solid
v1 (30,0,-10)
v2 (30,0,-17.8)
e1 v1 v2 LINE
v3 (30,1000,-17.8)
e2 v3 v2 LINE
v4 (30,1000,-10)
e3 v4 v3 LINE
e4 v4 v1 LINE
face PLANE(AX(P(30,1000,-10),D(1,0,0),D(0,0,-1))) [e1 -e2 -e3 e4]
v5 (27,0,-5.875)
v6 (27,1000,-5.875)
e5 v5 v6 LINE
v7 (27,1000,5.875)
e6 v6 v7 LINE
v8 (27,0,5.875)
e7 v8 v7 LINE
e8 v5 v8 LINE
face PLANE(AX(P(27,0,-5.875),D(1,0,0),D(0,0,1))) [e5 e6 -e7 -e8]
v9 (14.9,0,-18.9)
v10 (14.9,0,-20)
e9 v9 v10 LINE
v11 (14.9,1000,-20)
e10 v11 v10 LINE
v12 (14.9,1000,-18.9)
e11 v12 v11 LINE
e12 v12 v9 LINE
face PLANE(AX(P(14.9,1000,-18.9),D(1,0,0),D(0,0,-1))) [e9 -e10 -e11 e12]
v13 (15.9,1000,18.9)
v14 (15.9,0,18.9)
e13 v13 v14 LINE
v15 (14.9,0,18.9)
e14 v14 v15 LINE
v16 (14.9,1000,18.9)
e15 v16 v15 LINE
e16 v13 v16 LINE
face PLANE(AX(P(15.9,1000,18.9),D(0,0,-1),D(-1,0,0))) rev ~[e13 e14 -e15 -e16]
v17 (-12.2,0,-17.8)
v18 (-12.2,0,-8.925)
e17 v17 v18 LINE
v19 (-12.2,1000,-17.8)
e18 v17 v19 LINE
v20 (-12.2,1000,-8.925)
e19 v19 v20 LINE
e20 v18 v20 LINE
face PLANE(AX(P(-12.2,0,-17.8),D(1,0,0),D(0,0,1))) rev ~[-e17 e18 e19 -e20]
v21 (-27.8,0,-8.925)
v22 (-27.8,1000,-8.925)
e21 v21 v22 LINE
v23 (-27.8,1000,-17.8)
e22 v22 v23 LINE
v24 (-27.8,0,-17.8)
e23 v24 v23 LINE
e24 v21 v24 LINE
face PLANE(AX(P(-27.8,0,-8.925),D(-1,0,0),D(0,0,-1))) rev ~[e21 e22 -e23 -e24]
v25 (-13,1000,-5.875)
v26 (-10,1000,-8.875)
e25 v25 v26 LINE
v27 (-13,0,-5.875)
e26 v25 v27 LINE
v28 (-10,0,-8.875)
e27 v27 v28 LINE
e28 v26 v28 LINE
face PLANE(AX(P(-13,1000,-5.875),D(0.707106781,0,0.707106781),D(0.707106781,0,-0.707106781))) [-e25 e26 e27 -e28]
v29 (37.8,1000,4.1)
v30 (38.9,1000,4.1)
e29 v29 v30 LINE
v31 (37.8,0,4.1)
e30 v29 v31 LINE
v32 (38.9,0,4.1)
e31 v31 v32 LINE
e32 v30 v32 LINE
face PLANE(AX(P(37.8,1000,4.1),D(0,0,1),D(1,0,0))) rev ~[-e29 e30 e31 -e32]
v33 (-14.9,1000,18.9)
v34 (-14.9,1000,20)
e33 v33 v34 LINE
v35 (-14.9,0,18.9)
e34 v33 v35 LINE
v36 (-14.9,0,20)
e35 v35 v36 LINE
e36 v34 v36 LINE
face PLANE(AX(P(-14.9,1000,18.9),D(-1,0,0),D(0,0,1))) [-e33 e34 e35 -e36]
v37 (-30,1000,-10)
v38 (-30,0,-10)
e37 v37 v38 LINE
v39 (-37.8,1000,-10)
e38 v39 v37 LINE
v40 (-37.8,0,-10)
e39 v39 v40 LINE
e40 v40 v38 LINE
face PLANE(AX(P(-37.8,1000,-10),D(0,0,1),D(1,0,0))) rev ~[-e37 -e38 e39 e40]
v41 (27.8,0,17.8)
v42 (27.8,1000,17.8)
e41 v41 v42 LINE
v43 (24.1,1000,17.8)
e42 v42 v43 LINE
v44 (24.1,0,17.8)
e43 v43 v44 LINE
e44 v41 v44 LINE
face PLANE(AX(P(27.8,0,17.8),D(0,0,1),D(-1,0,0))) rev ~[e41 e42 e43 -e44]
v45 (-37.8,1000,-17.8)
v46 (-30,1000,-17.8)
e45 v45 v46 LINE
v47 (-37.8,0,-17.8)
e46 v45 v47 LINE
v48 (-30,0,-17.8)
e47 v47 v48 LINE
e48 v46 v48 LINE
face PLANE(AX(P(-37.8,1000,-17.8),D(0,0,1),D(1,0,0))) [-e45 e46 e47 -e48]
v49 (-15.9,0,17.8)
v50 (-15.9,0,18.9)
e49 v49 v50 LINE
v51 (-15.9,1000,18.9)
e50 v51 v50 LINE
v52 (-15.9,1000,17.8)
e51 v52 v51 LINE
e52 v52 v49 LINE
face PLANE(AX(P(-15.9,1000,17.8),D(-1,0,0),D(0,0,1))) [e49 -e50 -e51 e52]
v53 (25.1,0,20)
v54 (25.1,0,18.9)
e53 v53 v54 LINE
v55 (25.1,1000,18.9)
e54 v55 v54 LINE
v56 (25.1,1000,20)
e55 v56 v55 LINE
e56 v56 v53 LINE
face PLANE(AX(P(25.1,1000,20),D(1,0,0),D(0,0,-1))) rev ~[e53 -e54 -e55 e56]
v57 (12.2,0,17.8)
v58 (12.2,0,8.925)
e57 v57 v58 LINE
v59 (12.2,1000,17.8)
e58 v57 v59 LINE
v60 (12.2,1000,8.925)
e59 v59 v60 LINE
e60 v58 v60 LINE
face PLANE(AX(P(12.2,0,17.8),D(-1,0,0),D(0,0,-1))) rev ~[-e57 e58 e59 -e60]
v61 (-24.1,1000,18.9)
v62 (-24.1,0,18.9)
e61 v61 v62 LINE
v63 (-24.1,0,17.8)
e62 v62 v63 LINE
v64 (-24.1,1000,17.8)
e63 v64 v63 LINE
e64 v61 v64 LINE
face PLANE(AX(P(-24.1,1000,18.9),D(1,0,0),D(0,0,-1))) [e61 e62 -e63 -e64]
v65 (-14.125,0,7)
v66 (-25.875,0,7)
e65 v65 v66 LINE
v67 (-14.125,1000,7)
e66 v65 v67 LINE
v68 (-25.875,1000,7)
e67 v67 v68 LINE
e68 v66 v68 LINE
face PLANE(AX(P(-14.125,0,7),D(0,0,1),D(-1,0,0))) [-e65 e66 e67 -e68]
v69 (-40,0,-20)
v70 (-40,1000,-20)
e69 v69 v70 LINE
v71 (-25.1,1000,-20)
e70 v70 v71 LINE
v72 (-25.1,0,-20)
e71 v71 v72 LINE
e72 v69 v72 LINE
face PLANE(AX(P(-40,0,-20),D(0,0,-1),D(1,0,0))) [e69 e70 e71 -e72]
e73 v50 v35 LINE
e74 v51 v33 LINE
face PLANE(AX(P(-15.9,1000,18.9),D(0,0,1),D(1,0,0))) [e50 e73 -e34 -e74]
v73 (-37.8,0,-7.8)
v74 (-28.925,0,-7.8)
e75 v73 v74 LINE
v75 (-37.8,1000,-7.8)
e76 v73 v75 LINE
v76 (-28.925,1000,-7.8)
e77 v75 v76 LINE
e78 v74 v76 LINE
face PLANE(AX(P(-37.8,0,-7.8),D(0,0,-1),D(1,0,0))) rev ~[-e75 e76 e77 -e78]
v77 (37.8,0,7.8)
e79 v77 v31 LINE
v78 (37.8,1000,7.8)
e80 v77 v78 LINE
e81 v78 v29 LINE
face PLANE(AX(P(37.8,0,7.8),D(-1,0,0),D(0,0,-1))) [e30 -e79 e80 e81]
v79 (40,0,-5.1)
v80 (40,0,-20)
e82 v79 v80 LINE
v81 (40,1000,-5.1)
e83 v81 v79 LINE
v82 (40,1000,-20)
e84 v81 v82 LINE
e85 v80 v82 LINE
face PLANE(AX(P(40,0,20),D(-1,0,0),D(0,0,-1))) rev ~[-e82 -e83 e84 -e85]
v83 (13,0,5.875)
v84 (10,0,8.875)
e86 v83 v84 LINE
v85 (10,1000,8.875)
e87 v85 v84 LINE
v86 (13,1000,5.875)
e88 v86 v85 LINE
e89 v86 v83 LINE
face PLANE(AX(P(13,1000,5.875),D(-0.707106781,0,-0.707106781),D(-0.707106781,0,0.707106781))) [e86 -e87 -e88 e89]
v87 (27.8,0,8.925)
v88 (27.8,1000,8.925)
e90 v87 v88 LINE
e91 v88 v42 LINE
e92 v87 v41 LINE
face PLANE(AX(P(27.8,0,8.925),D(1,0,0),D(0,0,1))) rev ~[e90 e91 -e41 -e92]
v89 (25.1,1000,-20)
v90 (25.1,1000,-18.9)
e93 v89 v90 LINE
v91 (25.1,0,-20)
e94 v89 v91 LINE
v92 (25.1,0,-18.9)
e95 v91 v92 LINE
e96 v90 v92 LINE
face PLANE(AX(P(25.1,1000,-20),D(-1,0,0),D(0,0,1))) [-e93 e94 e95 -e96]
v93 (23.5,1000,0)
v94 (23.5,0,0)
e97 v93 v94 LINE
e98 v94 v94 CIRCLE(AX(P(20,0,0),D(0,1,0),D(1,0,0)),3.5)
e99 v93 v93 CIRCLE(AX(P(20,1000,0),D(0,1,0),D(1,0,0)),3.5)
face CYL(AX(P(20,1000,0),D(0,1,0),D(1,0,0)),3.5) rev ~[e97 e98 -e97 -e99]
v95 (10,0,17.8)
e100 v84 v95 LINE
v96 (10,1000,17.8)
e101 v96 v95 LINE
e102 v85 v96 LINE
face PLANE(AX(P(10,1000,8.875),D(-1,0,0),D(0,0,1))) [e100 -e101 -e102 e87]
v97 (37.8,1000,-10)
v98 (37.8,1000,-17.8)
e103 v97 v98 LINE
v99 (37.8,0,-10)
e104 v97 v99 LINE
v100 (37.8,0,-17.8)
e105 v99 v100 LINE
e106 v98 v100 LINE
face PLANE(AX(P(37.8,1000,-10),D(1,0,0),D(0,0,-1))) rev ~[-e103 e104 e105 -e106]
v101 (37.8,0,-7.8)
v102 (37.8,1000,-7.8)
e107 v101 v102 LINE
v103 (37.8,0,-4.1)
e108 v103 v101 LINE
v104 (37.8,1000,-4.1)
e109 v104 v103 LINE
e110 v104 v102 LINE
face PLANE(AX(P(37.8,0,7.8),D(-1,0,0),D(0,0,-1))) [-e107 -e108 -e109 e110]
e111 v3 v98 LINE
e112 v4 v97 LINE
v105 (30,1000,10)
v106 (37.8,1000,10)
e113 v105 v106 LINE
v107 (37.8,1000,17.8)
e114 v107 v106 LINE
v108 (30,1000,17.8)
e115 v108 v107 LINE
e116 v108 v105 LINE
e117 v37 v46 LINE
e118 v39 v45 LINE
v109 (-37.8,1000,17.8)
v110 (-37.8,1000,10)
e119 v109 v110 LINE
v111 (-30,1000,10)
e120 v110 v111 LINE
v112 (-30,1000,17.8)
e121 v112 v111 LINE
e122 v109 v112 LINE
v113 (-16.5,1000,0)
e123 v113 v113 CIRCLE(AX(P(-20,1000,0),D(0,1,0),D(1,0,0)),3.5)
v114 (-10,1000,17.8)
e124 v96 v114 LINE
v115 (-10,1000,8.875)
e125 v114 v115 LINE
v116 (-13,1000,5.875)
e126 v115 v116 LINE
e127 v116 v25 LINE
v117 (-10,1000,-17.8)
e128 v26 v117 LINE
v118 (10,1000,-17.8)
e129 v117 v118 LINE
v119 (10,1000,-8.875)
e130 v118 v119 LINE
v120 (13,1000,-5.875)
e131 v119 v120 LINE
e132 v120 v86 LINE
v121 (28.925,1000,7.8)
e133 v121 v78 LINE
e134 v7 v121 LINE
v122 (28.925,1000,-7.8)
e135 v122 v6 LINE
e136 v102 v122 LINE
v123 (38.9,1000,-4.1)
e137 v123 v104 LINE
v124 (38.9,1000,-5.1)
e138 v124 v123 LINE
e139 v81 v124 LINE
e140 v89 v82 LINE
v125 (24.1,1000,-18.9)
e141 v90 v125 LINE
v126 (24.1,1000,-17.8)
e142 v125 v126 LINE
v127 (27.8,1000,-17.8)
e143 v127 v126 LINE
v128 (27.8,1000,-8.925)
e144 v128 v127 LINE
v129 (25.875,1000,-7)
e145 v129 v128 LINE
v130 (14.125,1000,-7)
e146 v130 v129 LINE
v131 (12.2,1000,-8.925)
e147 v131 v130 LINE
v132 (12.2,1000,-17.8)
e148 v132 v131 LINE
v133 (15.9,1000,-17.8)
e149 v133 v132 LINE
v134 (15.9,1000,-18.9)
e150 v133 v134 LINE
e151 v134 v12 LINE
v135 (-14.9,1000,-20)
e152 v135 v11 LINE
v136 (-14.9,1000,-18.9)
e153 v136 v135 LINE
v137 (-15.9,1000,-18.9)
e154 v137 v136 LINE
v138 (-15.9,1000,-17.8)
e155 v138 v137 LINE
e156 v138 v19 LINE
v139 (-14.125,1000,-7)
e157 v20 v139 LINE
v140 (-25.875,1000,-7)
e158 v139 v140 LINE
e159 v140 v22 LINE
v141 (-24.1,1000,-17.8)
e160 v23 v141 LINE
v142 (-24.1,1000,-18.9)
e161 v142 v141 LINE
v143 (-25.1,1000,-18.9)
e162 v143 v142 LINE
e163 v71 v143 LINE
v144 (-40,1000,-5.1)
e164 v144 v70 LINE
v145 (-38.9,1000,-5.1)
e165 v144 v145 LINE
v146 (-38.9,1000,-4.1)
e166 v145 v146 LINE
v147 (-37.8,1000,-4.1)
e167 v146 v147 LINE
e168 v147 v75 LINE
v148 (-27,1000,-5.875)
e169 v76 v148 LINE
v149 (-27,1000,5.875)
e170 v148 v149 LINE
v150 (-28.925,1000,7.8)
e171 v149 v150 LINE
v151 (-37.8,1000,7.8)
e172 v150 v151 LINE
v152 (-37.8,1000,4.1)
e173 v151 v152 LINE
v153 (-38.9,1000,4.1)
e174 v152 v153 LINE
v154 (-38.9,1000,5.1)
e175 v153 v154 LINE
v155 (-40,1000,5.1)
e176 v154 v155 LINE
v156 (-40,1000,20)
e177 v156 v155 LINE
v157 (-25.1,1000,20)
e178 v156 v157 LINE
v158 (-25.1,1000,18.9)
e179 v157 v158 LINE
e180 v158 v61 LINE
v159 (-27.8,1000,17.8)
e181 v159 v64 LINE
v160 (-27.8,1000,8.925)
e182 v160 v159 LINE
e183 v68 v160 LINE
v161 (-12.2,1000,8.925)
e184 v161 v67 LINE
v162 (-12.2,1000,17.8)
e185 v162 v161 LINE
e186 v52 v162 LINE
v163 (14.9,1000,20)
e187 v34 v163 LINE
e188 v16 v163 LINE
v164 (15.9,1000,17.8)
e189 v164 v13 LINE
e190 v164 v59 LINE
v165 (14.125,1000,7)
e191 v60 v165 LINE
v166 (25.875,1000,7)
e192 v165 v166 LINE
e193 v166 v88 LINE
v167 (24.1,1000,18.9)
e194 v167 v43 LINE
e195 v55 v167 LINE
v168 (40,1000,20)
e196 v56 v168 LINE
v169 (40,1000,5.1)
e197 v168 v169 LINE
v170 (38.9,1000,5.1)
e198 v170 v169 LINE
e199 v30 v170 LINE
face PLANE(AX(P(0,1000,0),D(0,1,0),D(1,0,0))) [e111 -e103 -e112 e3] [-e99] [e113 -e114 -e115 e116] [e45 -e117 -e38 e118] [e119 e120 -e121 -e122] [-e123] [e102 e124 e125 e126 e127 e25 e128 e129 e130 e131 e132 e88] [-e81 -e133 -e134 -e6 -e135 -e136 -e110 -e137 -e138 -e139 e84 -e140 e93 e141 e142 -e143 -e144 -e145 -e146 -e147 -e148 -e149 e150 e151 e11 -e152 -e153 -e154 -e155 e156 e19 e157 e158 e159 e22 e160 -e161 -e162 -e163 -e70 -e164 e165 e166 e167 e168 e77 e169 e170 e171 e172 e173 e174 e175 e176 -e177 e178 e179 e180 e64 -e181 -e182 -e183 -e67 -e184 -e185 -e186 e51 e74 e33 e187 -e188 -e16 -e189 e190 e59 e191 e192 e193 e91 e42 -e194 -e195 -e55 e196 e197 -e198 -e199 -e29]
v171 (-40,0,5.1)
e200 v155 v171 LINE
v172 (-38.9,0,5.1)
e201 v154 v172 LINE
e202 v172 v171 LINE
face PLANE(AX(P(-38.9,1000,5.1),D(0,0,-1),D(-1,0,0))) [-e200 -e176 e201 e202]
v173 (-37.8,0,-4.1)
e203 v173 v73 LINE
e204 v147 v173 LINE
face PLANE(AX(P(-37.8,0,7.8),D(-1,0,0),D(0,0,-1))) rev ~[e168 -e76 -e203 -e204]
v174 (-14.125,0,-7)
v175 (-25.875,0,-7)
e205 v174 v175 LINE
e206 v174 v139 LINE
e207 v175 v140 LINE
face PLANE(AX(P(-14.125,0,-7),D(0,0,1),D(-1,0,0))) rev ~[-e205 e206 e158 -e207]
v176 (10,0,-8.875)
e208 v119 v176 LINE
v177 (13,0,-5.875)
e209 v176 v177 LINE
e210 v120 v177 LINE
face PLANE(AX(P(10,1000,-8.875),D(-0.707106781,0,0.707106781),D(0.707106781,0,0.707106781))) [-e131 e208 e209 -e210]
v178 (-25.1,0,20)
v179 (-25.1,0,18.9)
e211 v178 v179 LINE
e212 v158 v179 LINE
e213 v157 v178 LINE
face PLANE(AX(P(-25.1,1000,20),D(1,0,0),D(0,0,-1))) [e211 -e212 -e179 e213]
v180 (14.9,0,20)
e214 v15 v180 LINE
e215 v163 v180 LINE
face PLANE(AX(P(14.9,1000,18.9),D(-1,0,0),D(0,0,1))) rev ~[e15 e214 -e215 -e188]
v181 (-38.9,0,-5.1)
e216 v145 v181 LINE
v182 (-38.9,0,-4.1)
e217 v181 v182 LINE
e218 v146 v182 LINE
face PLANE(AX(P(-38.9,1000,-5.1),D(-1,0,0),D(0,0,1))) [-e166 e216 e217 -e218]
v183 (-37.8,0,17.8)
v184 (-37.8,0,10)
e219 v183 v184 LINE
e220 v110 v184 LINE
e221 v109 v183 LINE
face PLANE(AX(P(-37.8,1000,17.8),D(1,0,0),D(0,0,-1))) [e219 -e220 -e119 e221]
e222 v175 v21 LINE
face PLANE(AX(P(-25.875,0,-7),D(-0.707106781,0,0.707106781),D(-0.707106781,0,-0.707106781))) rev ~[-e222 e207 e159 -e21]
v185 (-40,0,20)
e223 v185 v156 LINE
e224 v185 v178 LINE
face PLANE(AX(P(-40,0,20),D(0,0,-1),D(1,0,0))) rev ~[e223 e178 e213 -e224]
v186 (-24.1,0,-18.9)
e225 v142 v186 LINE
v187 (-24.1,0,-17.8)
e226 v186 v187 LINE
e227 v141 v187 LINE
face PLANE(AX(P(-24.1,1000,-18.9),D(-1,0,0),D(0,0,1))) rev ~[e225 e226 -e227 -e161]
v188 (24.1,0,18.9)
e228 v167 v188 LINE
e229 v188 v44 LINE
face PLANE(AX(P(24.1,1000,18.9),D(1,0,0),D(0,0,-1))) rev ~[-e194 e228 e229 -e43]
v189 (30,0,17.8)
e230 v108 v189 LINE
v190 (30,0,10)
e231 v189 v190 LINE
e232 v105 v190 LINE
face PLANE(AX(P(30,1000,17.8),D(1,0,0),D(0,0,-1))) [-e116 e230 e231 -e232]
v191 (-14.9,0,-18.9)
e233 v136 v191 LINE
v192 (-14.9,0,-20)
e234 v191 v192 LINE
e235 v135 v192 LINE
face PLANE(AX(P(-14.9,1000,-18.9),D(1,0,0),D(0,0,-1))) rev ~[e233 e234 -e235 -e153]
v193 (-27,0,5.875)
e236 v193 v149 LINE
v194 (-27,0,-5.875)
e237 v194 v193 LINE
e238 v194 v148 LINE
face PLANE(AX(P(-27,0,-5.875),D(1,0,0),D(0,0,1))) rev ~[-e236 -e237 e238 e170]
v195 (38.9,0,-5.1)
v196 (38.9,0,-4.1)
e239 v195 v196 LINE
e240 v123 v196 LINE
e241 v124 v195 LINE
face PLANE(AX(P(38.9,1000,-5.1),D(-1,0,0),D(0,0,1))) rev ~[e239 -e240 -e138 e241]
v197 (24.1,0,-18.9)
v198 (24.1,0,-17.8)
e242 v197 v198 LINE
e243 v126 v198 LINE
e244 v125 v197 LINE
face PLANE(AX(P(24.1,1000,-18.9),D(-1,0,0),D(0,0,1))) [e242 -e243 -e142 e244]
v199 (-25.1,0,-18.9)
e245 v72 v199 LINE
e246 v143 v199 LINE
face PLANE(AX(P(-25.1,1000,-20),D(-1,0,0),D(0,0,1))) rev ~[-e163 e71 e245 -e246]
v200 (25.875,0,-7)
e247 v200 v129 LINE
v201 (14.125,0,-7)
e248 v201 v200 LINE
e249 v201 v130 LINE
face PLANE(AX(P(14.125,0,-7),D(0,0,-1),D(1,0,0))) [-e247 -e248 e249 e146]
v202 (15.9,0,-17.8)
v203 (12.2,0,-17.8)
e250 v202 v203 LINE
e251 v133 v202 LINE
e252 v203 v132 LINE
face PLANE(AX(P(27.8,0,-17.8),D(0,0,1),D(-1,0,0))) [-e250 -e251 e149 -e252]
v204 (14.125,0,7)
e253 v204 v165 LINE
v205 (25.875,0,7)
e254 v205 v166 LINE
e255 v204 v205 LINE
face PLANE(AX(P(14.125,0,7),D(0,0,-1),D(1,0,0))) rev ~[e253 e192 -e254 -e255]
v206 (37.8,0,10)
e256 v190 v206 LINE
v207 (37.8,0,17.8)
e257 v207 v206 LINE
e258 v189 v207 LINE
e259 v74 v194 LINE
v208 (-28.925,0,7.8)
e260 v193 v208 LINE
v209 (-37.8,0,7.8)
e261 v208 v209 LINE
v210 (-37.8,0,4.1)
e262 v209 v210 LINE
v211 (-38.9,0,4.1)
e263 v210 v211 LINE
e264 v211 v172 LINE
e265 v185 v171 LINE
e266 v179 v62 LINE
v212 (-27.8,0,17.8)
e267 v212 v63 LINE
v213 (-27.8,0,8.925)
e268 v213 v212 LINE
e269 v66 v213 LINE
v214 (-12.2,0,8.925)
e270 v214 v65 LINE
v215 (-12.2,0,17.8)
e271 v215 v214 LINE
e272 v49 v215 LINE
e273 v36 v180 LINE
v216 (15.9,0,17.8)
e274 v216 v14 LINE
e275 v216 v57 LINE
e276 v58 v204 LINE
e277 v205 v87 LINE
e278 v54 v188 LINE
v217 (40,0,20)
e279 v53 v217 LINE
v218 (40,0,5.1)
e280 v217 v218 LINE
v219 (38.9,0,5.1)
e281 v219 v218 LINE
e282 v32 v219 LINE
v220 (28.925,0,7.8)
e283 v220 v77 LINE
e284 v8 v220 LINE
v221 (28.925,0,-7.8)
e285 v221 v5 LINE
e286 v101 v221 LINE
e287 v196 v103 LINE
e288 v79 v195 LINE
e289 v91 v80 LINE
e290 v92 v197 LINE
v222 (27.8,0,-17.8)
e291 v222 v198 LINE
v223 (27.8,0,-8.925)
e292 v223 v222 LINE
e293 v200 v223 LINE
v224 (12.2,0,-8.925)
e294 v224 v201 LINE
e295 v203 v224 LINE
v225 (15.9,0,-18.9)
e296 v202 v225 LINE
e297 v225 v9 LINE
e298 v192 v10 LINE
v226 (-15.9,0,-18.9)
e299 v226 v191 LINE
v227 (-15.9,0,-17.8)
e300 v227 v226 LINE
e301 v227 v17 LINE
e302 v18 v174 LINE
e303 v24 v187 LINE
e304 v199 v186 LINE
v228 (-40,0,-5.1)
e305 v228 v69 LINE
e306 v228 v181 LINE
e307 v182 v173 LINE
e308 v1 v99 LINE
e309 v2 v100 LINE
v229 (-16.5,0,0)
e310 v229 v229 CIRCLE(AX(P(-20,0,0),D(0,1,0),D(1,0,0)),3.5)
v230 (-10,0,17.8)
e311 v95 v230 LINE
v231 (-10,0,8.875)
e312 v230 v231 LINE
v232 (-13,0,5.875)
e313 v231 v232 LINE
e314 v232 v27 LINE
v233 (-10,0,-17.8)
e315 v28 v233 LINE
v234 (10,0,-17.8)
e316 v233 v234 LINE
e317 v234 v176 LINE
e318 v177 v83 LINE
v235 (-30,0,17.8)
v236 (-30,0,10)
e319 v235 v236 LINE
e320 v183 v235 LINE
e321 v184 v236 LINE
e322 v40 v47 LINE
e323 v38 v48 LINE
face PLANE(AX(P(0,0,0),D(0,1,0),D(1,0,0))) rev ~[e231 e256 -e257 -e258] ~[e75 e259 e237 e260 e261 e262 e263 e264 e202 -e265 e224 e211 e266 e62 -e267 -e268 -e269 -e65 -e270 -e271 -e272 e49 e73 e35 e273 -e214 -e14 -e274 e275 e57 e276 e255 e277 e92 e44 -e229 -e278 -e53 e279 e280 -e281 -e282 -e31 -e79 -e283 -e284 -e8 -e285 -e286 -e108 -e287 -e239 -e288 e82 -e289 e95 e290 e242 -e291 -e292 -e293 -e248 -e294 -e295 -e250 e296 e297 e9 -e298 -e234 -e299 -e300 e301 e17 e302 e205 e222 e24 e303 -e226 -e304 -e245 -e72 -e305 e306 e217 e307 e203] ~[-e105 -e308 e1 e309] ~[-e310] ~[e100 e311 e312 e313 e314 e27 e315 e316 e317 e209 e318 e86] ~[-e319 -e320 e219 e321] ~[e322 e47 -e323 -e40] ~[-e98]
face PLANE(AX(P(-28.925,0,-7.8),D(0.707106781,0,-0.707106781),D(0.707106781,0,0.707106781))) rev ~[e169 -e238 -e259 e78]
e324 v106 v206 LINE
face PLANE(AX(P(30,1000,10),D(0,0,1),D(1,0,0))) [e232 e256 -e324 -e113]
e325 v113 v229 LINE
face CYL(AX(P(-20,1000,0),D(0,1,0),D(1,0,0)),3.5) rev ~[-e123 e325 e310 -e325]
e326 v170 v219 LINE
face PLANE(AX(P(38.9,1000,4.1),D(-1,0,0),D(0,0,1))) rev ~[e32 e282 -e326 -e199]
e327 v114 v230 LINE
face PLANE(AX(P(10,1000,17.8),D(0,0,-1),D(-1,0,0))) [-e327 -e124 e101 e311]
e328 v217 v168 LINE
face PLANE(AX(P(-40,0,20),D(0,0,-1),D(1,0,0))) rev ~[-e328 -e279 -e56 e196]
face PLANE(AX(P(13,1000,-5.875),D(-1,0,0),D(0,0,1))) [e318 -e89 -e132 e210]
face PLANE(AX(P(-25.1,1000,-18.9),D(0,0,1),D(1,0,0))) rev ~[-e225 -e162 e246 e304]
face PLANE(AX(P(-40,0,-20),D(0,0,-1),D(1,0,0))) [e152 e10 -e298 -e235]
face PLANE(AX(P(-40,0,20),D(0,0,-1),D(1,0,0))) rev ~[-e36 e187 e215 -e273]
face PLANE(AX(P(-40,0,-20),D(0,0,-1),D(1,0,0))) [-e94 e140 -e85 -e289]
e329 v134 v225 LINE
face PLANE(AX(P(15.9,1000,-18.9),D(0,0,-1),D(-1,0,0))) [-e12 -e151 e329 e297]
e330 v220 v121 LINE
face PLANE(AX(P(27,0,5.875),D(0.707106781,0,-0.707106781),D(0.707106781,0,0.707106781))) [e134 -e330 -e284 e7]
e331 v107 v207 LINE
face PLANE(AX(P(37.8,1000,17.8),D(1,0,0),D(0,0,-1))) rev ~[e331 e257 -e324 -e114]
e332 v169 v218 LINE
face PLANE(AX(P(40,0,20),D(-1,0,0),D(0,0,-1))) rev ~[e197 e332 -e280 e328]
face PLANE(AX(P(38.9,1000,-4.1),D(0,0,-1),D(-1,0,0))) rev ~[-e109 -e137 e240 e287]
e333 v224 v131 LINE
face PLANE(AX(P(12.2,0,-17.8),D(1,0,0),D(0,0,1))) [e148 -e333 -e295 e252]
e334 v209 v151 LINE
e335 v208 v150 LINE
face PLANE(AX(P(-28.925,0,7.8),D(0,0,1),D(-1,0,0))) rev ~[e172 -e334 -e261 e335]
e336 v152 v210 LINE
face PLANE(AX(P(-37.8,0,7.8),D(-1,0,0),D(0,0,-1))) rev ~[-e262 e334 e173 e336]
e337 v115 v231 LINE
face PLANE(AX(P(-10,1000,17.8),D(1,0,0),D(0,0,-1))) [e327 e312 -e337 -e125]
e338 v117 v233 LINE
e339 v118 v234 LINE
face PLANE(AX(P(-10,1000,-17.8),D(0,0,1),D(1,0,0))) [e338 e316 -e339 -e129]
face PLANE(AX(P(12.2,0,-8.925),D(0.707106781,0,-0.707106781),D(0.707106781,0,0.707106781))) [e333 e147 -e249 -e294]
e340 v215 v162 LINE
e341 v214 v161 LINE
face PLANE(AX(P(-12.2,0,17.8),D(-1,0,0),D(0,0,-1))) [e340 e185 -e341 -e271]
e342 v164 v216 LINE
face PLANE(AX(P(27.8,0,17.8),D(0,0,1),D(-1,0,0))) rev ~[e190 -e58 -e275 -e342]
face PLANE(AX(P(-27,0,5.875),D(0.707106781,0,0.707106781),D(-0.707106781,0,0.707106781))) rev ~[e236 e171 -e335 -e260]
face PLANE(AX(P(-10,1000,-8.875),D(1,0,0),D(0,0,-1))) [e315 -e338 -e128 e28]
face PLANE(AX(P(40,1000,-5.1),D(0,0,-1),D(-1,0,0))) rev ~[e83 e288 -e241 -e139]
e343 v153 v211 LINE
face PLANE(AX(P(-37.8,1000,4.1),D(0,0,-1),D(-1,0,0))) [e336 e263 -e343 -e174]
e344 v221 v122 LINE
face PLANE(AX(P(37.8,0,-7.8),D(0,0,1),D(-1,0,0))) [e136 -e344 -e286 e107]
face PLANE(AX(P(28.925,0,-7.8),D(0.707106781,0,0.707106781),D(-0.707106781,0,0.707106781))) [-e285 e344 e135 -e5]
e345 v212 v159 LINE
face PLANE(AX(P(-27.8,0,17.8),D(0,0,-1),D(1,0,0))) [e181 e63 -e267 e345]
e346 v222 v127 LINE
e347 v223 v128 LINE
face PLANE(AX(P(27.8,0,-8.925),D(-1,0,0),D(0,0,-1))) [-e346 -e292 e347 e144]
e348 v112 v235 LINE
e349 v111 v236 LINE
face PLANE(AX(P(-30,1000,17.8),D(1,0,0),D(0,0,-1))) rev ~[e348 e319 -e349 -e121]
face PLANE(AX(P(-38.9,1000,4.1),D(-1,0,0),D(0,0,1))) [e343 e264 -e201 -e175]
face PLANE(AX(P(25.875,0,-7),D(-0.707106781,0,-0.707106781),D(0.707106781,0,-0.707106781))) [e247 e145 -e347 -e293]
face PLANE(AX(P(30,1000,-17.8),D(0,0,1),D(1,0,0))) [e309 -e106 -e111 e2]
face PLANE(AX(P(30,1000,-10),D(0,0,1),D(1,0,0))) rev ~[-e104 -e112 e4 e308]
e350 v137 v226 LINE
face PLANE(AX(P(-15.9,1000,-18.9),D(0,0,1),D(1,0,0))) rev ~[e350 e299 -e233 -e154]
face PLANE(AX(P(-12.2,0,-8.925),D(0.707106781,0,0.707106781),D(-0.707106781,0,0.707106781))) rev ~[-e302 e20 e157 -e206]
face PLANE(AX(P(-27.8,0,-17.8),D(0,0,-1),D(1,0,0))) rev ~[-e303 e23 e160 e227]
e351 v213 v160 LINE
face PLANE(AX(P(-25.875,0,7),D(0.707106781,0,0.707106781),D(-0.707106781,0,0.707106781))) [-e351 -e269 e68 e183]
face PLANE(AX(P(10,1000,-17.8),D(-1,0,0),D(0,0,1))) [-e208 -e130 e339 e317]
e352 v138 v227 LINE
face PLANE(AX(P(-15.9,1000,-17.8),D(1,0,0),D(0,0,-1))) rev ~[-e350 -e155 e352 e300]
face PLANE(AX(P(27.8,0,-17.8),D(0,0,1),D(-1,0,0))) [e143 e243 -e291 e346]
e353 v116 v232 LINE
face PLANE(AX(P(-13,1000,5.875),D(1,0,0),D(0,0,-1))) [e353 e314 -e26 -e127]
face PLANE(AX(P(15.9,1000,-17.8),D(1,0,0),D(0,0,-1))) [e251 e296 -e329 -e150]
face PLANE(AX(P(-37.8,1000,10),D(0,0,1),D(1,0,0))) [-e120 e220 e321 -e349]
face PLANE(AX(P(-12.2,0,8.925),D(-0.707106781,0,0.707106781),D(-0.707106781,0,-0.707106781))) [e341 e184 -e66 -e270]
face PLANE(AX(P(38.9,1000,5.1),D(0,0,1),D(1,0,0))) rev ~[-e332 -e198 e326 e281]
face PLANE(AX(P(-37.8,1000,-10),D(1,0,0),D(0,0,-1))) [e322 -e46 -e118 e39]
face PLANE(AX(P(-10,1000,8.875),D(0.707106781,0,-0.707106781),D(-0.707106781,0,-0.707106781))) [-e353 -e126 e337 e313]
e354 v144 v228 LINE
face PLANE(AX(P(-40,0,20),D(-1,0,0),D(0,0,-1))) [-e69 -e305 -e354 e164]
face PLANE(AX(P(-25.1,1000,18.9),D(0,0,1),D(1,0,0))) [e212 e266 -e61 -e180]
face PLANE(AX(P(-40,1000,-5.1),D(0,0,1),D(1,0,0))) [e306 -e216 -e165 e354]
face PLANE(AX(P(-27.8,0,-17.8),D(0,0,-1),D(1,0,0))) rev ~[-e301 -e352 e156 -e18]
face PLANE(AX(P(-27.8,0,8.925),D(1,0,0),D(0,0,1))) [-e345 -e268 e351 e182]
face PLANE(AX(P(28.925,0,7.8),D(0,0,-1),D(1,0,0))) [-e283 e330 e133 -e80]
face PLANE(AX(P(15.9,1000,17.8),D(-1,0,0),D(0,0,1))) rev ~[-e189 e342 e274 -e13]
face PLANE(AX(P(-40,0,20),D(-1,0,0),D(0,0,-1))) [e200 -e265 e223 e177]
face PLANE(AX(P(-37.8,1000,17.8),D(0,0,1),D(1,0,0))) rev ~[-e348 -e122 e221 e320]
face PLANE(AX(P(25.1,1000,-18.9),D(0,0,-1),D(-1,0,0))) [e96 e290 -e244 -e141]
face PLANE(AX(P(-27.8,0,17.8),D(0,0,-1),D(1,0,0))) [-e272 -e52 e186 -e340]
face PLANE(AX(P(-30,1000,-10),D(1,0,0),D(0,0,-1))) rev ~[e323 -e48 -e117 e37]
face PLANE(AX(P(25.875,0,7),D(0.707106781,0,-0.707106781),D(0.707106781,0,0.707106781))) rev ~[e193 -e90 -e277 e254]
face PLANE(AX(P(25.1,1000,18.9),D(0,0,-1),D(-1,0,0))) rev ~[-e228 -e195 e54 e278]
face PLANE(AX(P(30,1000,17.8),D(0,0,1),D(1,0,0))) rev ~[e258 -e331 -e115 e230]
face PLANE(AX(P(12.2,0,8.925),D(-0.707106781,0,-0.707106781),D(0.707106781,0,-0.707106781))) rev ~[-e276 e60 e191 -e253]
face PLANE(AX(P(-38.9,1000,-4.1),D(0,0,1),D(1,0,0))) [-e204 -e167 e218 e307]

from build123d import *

# Parameters (mm, degrees)
SKETCH1_W           = 80
SKETCH1_H           = 40
BOSS_EXTRUDE1_DEPTH = 1000
SKETCH2_W           = 7.8
SKETCH2_H           = 7.8
CUT_EXTRUDE1_DEPTH  = 1001
SKETCH3_R           = 3.5
CUT_EXTRUDE2_DEPTH  = 1001


with BuildPart() as part:
    # Sketch1 → Boss-Extrude1 (new body)
    with BuildSketch(Plane(origin=(0, 0, 0), x_dir=(1, 0, 0), z_dir=(0, 1, 0))):
        Rectangle(SKETCH1_W, SKETCH1_H)
        Polygon((-27.8, -17.8), (-12.2, -17.8), (-12.2, -8.925), (-14.125, -7), (-25.875, -7), (-27.8, -8.925), align=None, mode=Mode.SUBTRACT)
        Polygon((-28.925, -7.8), (-37.8, -7.8), (-37.8, 7.8), (-28.925, 7.8), (-27, 5.875), (-27, -5.875), align=None, mode=Mode.SUBTRACT)
        Polygon((-27.8, 8.925), (-27.8, 17.8), (-12.2, 17.8), (-12.2, 8.925), (-14.125, 7), (-25.875, 7), align=None, mode=Mode.SUBTRACT)
        Polygon((27.8, 17.8), (12.2, 17.8), (12.2, 8.925), (14.125, 7), (25.875, 7), (27.8, 8.925), align=None, mode=Mode.SUBTRACT)
        Polygon((37.8, -7.8), (37.8, 7.8), (28.925, 7.8), (27, 5.875), (27, -5.875), (28.925, -7.8), align=None, mode=Mode.SUBTRACT)
        Polygon((27.8, -8.925), (27.8, -17.8), (12.2, -17.8), (12.2, -8.925), (14.125, -7), (25.875, -7), align=None, mode=Mode.SUBTRACT)
    extrude(amount=BOSS_EXTRUDE1_DEPTH)

    # Sketch2 → Cut-Extrude1 (cut, through all)
    with BuildSketch(Plane(origin=(0, 1000, 0), x_dir=(1, 0, 0), z_dir=(0, 1, 0))):
        with Locations((33.9, -13.9)):
            Rectangle(SKETCH2_W, SKETCH2_H)
        Polygon((-10, -17.8), (-10, -8.875), (-13, -5.875), (-13, 5.875), (-10, 8.875), (-10, 17.8), (10, 17.8), (10, 8.875), (13, 5.875), (13, -5.875), (10, -8.875), (10, -17.8), align=None)
        with Locations((33.9, 13.9)):
            Rectangle(SKETCH2_W, SKETCH2_H)
        with Locations((-33.9, -13.9)):
            Rectangle(SKETCH2_W, SKETCH2_H)
        with Locations((-33.9, 13.9)):
            Rectangle(SKETCH2_W, SKETCH2_H)
    extrude(amount=-CUT_EXTRUDE1_DEPTH, mode=Mode.SUBTRACT)

    # Sketch3 → Cut-Extrude2 (cut, through all)
    with BuildSketch(Plane(origin=(0, 1000, 0), x_dir=(1, 0, 0), z_dir=(0, 1, 0))):
        with Locations((-20, 0)):
            Circle(SKETCH3_R)
        with Locations((20, 0)):
            Circle(SKETCH3_R)
        Polygon((-25.1, 20), (-25.1, 18.9), (-24.1, 18.9), (-24.1, 17.8), (-15.9, 17.8), (-15.9, 18.9), (-14.9, 18.9), (-14.9, 20), align=None)
        Polygon((-37.8, 4.1), (-37.8, -4.1), (-38.9, -4.1), (-38.9, -5.1), (-40, -5.1), (-40, 5.1), (-38.9, 5.1), (-38.9, 4.1), align=None)
        Polygon((-24.1, -17.8), (-15.9, -17.8), (-15.9, -18.9), (-14.9, -18.9), (-14.9, -20), (-25.1, -20), (-25.1, -18.9), (-24.1, -18.9), align=None)
        Polygon((25.1, -20), (25.1, -18.9), (24.1, -18.9), (24.1, -17.8), (15.9, -17.8), (15.9, -18.9), (14.9, -18.9), (14.9, -20), align=None)
        Polygon((40, 5.1), (38.9, 5.1), (38.9, 4.1), (37.8, 4.1), (37.8, -4.1), (38.9, -4.1), (38.9, -5.1), (40, -5.1), align=None)
        Polygon((24.1, 17.8), (15.9, 17.8), (15.9, 18.9), (14.9, 18.9), (14.9, 20), (25.1, 20), (25.1, 18.9), (24.1, 18.9), align=None)
    extrude(amount=-CUT_EXTRUDE2_DEPTH, mode=Mode.SUBTRACT)


solid = part.part
